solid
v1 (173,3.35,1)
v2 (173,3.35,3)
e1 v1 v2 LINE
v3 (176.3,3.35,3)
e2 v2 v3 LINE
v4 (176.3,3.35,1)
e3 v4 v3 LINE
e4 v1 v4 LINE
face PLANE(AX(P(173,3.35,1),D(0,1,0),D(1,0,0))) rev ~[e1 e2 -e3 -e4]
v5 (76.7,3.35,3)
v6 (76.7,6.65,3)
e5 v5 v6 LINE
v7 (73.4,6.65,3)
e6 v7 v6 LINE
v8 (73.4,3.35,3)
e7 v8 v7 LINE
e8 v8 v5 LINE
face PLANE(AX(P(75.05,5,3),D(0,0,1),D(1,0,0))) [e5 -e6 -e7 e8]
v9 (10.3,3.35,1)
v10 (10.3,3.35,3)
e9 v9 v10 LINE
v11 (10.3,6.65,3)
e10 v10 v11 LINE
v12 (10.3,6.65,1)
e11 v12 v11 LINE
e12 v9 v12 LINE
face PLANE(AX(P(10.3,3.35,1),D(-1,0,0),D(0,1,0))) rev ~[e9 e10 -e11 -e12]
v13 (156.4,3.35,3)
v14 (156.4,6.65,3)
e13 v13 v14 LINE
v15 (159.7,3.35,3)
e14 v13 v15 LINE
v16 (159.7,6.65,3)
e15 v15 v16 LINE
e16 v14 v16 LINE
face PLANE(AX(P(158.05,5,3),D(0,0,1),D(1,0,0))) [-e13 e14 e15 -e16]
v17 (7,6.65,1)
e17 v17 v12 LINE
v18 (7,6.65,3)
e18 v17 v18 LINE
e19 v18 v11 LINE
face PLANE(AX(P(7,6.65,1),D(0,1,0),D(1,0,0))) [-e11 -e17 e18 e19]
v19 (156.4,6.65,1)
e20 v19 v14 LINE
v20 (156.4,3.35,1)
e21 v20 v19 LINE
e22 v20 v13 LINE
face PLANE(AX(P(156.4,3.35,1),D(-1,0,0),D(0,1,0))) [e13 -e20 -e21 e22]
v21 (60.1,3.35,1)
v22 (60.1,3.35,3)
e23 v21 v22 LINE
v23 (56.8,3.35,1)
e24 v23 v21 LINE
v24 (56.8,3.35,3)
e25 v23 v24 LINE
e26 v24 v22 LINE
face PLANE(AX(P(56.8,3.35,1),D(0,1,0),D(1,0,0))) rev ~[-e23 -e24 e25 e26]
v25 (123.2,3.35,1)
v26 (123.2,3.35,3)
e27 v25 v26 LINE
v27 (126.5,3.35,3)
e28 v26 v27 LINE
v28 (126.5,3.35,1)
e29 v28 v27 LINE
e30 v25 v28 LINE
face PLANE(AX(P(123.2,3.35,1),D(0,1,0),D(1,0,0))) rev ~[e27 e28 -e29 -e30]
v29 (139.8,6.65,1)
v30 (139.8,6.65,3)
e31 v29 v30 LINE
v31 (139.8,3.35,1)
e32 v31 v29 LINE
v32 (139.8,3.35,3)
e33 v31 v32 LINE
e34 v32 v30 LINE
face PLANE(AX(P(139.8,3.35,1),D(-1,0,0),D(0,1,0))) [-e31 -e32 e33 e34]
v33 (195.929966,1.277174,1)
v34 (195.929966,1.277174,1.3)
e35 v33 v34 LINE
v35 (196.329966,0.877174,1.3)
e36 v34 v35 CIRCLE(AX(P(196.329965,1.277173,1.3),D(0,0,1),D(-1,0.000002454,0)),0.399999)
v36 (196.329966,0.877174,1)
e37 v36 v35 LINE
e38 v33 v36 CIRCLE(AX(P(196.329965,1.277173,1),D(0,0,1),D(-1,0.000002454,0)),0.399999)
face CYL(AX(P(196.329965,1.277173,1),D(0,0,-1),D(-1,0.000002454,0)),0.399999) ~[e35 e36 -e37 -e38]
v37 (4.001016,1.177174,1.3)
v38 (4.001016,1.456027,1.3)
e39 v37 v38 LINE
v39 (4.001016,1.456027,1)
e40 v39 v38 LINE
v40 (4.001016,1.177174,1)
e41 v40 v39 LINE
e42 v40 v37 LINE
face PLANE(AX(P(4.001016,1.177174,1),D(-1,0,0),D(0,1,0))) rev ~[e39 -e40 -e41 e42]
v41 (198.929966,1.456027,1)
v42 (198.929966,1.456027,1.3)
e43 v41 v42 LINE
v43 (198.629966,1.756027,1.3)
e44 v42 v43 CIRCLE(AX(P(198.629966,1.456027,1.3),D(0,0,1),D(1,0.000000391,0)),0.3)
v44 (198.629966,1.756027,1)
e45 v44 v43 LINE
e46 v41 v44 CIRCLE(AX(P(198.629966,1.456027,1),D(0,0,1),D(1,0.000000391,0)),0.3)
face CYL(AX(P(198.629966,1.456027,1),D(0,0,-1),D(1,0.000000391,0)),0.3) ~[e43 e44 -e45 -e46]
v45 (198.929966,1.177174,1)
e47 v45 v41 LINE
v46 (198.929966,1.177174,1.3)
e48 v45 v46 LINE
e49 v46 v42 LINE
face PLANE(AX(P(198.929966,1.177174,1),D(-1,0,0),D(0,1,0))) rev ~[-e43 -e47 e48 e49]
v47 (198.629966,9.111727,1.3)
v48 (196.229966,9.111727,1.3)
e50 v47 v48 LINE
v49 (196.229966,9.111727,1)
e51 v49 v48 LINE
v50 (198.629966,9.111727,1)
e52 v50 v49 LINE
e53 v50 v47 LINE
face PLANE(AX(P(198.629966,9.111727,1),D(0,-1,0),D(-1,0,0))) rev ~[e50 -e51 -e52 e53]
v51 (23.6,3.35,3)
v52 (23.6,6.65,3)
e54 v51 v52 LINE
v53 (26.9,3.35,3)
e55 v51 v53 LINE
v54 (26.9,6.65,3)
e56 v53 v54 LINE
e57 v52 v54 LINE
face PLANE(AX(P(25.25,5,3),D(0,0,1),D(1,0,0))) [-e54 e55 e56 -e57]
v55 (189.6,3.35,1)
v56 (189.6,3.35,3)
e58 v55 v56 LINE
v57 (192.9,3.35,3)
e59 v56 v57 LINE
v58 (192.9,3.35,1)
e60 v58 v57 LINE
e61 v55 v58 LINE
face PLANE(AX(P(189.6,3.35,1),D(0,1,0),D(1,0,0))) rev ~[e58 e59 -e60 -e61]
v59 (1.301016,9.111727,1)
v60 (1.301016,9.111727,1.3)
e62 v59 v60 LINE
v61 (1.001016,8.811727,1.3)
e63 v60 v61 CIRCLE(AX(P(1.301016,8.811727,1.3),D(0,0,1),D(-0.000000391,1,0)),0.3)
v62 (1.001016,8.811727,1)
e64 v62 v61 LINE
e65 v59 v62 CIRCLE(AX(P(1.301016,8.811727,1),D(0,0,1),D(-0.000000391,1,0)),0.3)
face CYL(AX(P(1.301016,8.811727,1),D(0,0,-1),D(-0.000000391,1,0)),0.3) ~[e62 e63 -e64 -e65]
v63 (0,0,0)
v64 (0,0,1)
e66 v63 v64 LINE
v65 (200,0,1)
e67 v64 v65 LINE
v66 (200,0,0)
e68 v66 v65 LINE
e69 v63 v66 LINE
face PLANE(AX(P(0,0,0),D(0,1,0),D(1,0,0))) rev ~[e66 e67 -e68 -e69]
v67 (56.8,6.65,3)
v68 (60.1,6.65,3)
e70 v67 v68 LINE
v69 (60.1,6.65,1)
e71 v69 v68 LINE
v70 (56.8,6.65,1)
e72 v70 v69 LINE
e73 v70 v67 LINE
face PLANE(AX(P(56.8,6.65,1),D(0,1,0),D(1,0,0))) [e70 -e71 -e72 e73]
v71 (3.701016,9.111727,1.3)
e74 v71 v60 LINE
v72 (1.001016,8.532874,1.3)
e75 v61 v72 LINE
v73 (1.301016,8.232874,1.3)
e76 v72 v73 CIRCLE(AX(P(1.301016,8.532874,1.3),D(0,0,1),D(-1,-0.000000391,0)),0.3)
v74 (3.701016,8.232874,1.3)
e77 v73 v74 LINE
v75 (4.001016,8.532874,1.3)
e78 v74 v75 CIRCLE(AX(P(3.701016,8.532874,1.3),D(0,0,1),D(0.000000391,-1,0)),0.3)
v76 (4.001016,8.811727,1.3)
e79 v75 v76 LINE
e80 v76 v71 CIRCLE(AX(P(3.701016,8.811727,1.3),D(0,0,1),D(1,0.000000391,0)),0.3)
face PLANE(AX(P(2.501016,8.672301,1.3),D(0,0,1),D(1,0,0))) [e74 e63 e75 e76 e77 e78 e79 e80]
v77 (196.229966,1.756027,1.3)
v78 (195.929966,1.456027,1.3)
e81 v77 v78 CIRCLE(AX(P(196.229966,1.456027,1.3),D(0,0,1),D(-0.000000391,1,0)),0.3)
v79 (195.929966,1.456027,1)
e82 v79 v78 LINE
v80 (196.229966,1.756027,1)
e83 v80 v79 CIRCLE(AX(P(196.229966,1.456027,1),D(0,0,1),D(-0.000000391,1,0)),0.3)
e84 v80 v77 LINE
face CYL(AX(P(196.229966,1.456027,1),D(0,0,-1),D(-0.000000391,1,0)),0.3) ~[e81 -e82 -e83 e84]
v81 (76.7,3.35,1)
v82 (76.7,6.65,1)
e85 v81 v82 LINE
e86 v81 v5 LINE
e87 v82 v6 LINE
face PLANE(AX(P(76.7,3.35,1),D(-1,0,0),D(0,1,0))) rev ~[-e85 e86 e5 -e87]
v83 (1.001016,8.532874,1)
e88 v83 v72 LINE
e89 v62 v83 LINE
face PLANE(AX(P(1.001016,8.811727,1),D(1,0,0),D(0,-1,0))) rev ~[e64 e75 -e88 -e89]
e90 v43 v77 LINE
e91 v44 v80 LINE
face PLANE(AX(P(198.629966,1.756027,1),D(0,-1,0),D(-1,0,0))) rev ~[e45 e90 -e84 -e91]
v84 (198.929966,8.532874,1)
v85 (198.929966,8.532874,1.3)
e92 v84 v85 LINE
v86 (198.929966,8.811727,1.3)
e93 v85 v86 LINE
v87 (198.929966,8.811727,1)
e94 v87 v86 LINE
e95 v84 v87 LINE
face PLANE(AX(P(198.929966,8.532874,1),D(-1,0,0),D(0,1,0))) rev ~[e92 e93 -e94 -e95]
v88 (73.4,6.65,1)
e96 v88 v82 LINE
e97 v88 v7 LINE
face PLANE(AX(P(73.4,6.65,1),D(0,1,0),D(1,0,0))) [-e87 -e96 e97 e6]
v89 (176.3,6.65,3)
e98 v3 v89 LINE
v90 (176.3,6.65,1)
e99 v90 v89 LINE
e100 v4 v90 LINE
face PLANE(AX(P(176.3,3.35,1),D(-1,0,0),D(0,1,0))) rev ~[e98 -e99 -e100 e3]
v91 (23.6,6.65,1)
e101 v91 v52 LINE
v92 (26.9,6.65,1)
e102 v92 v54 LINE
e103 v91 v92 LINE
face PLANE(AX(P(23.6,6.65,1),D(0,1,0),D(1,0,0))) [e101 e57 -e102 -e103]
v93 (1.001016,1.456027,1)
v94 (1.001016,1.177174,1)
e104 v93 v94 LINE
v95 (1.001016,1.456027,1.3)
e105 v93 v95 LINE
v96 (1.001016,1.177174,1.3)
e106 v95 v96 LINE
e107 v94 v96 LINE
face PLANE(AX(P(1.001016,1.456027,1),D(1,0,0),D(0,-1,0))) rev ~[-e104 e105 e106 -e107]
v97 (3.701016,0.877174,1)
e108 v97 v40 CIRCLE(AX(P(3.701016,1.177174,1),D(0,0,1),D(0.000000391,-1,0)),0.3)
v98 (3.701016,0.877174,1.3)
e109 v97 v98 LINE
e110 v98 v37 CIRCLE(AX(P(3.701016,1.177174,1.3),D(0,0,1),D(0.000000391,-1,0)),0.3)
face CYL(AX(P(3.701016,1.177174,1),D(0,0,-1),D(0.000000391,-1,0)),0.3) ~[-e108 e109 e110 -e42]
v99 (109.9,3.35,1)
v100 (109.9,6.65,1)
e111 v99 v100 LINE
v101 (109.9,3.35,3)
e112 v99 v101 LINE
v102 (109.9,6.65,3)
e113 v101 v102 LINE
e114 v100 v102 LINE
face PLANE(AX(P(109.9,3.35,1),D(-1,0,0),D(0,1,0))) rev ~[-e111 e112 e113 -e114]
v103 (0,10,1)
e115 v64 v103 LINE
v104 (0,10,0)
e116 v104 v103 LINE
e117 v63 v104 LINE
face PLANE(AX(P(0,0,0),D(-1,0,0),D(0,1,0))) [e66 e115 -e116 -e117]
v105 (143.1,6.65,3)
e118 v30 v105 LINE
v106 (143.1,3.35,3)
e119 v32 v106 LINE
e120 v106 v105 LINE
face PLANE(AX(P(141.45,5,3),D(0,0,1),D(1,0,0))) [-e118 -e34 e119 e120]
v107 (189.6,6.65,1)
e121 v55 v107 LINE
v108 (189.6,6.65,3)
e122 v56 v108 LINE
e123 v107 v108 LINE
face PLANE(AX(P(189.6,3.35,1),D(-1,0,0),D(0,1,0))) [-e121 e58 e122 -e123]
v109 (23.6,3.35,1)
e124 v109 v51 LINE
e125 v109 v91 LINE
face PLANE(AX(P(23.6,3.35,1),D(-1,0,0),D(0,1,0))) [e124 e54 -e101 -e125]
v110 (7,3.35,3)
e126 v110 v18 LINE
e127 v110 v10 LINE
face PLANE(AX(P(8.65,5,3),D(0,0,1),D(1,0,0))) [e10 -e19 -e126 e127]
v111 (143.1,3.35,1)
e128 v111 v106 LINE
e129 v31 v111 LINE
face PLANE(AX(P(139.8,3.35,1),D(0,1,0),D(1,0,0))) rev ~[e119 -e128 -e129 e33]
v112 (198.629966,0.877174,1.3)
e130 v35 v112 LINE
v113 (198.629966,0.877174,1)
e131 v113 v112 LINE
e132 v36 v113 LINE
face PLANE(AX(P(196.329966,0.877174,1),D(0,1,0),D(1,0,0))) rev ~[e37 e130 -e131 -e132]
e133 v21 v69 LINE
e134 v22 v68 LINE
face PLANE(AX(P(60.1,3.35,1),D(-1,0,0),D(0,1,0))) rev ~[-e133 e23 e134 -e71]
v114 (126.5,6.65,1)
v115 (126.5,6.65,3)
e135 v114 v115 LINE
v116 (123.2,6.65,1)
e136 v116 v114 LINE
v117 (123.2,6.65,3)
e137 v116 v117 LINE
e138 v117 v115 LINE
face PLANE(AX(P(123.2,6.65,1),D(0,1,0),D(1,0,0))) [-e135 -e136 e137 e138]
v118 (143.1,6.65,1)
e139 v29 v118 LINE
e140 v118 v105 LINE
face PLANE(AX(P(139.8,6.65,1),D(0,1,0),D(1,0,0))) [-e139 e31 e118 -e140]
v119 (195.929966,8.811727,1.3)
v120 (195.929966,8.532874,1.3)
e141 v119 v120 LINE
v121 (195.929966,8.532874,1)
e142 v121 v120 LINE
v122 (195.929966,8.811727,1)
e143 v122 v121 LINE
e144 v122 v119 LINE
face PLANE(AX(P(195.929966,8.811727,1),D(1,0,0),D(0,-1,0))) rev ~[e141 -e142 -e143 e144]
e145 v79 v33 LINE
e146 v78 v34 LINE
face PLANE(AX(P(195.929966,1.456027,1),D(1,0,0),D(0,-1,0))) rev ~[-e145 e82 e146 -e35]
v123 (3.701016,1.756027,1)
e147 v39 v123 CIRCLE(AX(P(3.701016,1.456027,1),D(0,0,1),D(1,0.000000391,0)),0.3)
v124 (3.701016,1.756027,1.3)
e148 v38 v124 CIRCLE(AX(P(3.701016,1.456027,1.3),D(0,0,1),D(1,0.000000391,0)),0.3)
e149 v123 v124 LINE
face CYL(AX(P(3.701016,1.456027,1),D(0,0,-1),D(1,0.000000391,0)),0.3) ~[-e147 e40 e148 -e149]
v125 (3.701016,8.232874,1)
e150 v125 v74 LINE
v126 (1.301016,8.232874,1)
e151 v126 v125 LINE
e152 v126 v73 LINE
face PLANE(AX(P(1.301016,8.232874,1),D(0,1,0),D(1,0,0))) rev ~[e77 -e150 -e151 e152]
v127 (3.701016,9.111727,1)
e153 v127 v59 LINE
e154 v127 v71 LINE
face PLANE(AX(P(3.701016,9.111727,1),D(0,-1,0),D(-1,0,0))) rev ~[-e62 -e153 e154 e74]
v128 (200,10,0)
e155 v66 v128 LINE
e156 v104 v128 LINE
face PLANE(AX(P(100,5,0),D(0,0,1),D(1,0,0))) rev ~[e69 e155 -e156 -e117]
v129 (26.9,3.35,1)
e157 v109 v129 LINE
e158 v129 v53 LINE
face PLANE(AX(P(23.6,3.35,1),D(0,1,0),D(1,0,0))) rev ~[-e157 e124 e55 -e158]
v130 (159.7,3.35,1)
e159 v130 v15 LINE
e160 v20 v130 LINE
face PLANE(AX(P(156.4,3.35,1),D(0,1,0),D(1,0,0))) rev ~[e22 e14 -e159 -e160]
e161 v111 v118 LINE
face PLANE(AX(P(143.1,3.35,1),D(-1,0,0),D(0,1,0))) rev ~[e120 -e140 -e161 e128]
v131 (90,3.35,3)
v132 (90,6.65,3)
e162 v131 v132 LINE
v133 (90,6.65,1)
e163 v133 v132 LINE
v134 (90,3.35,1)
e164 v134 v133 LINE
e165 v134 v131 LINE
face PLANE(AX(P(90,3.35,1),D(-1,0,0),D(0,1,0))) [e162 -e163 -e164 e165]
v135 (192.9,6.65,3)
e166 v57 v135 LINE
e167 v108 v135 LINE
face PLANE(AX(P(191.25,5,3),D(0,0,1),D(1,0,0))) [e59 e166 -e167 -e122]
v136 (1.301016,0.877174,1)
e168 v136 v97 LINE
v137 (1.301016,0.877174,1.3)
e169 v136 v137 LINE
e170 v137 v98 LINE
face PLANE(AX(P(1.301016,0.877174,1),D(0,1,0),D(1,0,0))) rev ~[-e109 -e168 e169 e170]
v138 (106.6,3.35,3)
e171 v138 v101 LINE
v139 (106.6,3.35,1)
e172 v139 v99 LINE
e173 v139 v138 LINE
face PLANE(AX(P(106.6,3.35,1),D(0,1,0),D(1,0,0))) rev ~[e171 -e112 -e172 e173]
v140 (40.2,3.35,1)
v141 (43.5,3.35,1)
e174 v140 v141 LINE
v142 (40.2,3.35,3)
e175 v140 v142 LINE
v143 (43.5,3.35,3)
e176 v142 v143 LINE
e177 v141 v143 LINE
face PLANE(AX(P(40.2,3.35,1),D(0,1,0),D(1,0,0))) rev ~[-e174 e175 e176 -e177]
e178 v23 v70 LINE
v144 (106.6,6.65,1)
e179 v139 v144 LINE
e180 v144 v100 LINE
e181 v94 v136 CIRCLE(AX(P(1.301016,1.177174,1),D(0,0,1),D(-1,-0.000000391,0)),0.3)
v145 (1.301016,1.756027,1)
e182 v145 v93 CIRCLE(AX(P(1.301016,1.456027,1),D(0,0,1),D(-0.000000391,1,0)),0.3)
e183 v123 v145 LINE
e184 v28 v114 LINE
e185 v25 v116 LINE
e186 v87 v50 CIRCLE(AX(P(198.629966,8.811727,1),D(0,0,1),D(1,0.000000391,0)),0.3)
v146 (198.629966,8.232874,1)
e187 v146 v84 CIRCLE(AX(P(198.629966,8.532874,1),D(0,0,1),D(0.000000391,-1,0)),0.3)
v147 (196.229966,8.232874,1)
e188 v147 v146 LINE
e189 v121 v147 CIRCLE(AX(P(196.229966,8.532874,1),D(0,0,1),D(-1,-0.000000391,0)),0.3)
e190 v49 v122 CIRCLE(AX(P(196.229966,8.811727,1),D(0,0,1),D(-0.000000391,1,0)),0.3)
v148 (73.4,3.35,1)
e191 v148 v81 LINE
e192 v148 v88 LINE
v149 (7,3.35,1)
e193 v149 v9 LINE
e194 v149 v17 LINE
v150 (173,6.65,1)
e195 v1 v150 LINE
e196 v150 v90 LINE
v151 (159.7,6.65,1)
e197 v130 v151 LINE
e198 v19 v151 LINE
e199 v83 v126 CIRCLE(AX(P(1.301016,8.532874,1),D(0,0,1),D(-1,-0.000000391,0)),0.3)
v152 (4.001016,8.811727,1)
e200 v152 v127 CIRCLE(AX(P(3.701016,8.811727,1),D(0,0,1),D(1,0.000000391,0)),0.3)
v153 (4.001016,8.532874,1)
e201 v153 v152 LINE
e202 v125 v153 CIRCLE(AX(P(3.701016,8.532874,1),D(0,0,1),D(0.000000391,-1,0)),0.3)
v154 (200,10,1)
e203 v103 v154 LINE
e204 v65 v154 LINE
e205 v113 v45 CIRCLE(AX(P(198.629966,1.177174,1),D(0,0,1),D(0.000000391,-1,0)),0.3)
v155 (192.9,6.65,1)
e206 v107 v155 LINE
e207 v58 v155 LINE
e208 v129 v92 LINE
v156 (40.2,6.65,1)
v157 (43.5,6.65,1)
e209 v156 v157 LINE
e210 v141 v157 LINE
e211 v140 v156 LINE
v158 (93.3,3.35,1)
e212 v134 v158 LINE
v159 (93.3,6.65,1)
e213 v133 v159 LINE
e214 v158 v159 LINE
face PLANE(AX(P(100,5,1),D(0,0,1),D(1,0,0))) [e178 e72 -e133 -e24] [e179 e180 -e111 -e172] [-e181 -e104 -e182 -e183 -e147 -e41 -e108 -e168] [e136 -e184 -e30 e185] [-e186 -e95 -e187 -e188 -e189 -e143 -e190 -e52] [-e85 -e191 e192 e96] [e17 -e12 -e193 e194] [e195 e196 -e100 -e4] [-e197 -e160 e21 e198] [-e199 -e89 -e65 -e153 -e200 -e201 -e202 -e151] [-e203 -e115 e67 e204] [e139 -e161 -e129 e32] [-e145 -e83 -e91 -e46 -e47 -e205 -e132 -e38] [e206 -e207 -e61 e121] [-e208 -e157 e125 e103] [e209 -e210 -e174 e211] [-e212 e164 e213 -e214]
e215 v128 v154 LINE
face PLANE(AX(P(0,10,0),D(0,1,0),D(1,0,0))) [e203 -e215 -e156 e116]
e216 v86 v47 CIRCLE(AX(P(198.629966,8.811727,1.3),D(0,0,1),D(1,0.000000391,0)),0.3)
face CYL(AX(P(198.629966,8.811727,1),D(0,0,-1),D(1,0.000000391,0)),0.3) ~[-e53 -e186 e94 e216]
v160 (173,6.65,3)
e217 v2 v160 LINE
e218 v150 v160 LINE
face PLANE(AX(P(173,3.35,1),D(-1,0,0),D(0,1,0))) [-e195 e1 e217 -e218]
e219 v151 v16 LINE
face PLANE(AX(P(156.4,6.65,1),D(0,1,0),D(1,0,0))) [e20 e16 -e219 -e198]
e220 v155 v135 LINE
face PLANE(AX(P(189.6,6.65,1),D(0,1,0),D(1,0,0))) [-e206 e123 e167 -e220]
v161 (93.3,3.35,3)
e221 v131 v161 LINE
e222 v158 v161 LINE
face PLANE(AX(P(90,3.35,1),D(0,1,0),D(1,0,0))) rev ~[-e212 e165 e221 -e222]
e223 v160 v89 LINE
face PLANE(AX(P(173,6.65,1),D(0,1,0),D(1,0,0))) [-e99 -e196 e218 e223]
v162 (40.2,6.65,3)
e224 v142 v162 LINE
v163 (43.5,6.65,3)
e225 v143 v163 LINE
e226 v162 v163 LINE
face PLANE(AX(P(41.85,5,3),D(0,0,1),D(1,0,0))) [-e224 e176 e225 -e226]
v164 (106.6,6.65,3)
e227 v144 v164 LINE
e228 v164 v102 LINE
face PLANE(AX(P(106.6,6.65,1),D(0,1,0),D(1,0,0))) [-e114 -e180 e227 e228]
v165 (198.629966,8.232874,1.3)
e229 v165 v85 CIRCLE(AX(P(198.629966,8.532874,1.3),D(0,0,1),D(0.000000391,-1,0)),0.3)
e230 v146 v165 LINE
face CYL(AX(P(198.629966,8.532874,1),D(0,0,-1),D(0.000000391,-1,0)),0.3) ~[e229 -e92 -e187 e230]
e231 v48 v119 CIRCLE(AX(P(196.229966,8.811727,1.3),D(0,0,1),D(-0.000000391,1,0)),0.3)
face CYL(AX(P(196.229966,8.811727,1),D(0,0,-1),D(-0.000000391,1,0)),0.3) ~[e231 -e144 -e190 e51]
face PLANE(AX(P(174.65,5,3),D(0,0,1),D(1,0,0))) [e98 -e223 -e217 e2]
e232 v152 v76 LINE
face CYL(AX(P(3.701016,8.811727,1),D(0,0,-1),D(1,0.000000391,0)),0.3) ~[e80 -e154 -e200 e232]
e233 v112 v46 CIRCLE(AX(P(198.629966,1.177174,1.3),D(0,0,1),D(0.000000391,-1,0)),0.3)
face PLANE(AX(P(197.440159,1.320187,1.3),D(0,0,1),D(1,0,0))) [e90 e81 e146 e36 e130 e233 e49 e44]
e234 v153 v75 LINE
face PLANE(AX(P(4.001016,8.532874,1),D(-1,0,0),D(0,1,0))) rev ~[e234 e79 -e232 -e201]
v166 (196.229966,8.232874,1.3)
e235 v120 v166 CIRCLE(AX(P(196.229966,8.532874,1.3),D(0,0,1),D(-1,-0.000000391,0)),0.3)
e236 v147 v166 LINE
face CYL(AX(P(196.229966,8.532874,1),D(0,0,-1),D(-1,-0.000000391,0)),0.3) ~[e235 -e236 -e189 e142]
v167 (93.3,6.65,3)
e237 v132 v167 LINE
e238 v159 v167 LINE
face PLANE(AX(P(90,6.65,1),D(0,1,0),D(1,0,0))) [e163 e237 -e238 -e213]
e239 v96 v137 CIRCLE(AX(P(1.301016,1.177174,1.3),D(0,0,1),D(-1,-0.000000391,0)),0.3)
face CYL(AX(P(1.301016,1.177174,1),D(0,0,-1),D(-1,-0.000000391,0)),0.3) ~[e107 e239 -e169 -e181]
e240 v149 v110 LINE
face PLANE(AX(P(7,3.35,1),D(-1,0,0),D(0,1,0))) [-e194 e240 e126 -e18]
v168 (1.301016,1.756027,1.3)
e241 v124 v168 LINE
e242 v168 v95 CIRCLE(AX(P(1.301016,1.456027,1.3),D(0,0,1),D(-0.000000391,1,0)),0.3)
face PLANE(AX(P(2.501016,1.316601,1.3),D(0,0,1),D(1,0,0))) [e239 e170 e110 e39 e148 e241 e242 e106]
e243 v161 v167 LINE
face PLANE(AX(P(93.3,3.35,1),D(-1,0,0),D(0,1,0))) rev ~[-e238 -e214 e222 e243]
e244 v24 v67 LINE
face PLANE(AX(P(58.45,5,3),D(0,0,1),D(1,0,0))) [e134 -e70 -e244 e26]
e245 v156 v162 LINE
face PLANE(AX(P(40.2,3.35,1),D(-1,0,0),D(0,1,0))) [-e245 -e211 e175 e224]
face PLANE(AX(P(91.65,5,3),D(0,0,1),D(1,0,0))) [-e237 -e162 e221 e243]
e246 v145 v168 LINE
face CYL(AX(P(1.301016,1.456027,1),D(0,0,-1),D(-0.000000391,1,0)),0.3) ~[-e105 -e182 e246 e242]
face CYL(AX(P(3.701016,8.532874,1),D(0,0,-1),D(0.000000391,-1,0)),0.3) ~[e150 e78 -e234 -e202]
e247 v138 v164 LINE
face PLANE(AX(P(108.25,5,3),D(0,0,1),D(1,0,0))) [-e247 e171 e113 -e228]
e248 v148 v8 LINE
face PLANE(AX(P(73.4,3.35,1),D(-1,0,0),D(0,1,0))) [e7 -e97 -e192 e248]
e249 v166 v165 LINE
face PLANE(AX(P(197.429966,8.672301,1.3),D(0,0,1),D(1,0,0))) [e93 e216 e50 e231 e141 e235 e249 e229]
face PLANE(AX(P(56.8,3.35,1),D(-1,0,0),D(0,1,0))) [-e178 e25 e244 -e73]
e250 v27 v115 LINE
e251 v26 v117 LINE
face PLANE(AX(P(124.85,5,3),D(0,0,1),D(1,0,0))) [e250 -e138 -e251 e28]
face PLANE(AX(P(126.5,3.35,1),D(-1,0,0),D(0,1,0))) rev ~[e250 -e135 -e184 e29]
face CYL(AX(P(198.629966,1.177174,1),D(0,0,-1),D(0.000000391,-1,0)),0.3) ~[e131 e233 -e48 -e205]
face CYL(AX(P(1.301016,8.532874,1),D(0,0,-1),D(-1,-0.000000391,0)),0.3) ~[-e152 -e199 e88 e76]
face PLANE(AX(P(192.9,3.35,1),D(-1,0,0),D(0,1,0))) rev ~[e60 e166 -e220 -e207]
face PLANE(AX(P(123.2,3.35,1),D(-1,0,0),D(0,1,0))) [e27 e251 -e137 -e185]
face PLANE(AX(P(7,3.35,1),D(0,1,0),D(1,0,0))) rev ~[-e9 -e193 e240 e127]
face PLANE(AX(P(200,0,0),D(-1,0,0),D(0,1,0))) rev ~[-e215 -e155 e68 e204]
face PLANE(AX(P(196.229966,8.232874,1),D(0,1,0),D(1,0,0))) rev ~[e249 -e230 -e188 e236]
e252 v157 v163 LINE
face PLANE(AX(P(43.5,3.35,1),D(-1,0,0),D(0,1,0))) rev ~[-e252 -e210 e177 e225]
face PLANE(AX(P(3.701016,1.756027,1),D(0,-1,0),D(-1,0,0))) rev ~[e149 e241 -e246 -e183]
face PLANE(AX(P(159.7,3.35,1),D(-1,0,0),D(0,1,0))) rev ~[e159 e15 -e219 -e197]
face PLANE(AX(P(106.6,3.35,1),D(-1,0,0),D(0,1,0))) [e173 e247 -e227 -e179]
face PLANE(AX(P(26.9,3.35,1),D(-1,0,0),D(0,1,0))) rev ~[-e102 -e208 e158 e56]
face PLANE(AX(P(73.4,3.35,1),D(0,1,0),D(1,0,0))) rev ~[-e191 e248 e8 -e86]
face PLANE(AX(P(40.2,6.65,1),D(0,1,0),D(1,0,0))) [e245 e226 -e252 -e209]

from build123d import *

# Parameters (mm, degrees)
F0_W     = 200
F0_H     = 10
F1_DEPTH = 1
F2_W     = 3.3
F2_H     = 3.3
F3_DEPTH = 2
F5_DEPTH = 0.3


with BuildPart() as f1:
    # F0 (on Top) → F1 (new body)
    with BuildSketch(Plane.XY):
        with Locations((100, 5)):
            Rectangle(F0_W, F0_H)
    extrude(amount=F1_DEPTH)

    # F2 (on face) → F3 (join)
    with BuildSketch(Plane.XY.offset(1)):
        with Locations((8.65, 5)):
            Rectangle(F2_W, F2_H)
        with Locations((25.25, 5)):
            Rectangle(F2_W, F2_H)
        with Locations((41.85, 5)):
            Rectangle(F2_W, F2_H)
        with Locations((58.45, 5)):
            Rectangle(F2_W, F2_H)
        with Locations((75.05, 5)):
            Rectangle(F2_W, F2_H)
        with Locations((91.65, 5)):
            Rectangle(F2_W, F2_H)
        with Locations((108.25, 5)):
            Rectangle(F2_W, F2_H)
        with Locations((124.85, 5)):
            Rectangle(F2_W, F2_H)
        with Locations((141.45, 5)):
            Rectangle(F2_W, F2_H)
        with Locations((158.05, 5)):
            Rectangle(F2_W, F2_H)
        with Locations((174.65, 5)):
            Rectangle(F2_W, F2_H)
        with Locations((191.25, 5)):
            Rectangle(F2_W, F2_H)
    extrude(amount=F3_DEPTH)

    # F4 (on face) → F5 (join)
    with BuildSketch(Plane.XY.offset(1)):
        with BuildLine():
            ThreePointArc((1.001016, 1.177174), (1.088884, 0.965042), (1.301016, 0.877174))
            Line((1.301016, 0.877174), (3.701016, 0.877174))
            ThreePointArc((3.701016, 0.877174), (3.913148, 0.965042), (4.001016, 1.177174))
            Line((4.001016, 1.177174), (4.001016, 1.456027))
            ThreePointArc((4.001016, 1.456027), (3.913148, 1.668159), (3.701016, 1.756027))
            Line((3.701016, 1.756027), (1.301016, 1.756027))
            ThreePointArc((1.301016, 1.756027), (1.088884, 1.668159), (1.001016, 1.456027))
            Line((1.001016, 1.456027), (1.001016, 1.177174))
        make_face()
        with BuildLine():
            ThreePointArc((198.629966, 8.232874), (198.842098, 8.320742), (198.929966, 8.532874))
            Line((198.929966, 8.532874), (198.929966, 8.811727))
            ThreePointArc((198.929966, 8.811727), (198.842098, 9.023859), (198.629966, 9.111727))
            Line((198.629966, 9.111727), (196.229966, 9.111727))
            ThreePointArc((196.229966, 9.111727), (196.017834, 9.023859), (195.929966, 8.811727))
            Line((195.929966, 8.811727), (195.929966, 8.532874))
            ThreePointArc((195.929966, 8.532874), (196.017834, 8.320742), (196.229966, 8.232874))
            Line((196.229966, 8.232874), (198.629966, 8.232874))
        make_face()
        with BuildLine():
            ThreePointArc((198.629966, 0.877174), (198.842098, 0.965042), (198.929966, 1.177174))
            Line((198.929966, 1.177174), (198.929966, 1.456027))
            ThreePointArc((198.929966, 1.456027), (198.842098, 1.668159), (198.629966, 1.756027))
            Line((198.629966, 1.756027), (196.229966, 1.756027))
            ThreePointArc((196.229966, 1.756027), (196.017834, 1.668159), (195.929966, 1.456027))
            Line((195.929966, 1.456027), (195.929966, 1.277174))
            ThreePointArc((195.929966, 1.277174), (196.047123, 0.994331), (196.329966, 0.877174))
            Line((196.329966, 0.877174), (198.629966, 0.877174))
        make_face()
        with BuildLine():
            ThreePointArc((3.701016, 8.232874), (3.913148, 8.320742), (4.001016, 8.532874))
            Line((4.001016, 8.532874), (4.001016, 8.811727))
            ThreePointArc((4.001016, 8.811727), (3.913148, 9.023859), (3.701016, 9.111727))
            Line((3.701016, 9.111727), (1.301016, 9.111727))
            ThreePointArc((1.301016, 9.111727), (1.088884, 9.023859), (1.001016, 8.811727))
            Line((1.001016, 8.811727), (1.001016, 8.532874))
            ThreePointArc((1.001016, 8.532874), (1.088884, 8.320742), (1.301016, 8.232874))
            Line((1.301016, 8.232874), (3.701016, 8.232874))
        make_face()
    extrude(amount=F5_DEPTH)


solid = f1.part
